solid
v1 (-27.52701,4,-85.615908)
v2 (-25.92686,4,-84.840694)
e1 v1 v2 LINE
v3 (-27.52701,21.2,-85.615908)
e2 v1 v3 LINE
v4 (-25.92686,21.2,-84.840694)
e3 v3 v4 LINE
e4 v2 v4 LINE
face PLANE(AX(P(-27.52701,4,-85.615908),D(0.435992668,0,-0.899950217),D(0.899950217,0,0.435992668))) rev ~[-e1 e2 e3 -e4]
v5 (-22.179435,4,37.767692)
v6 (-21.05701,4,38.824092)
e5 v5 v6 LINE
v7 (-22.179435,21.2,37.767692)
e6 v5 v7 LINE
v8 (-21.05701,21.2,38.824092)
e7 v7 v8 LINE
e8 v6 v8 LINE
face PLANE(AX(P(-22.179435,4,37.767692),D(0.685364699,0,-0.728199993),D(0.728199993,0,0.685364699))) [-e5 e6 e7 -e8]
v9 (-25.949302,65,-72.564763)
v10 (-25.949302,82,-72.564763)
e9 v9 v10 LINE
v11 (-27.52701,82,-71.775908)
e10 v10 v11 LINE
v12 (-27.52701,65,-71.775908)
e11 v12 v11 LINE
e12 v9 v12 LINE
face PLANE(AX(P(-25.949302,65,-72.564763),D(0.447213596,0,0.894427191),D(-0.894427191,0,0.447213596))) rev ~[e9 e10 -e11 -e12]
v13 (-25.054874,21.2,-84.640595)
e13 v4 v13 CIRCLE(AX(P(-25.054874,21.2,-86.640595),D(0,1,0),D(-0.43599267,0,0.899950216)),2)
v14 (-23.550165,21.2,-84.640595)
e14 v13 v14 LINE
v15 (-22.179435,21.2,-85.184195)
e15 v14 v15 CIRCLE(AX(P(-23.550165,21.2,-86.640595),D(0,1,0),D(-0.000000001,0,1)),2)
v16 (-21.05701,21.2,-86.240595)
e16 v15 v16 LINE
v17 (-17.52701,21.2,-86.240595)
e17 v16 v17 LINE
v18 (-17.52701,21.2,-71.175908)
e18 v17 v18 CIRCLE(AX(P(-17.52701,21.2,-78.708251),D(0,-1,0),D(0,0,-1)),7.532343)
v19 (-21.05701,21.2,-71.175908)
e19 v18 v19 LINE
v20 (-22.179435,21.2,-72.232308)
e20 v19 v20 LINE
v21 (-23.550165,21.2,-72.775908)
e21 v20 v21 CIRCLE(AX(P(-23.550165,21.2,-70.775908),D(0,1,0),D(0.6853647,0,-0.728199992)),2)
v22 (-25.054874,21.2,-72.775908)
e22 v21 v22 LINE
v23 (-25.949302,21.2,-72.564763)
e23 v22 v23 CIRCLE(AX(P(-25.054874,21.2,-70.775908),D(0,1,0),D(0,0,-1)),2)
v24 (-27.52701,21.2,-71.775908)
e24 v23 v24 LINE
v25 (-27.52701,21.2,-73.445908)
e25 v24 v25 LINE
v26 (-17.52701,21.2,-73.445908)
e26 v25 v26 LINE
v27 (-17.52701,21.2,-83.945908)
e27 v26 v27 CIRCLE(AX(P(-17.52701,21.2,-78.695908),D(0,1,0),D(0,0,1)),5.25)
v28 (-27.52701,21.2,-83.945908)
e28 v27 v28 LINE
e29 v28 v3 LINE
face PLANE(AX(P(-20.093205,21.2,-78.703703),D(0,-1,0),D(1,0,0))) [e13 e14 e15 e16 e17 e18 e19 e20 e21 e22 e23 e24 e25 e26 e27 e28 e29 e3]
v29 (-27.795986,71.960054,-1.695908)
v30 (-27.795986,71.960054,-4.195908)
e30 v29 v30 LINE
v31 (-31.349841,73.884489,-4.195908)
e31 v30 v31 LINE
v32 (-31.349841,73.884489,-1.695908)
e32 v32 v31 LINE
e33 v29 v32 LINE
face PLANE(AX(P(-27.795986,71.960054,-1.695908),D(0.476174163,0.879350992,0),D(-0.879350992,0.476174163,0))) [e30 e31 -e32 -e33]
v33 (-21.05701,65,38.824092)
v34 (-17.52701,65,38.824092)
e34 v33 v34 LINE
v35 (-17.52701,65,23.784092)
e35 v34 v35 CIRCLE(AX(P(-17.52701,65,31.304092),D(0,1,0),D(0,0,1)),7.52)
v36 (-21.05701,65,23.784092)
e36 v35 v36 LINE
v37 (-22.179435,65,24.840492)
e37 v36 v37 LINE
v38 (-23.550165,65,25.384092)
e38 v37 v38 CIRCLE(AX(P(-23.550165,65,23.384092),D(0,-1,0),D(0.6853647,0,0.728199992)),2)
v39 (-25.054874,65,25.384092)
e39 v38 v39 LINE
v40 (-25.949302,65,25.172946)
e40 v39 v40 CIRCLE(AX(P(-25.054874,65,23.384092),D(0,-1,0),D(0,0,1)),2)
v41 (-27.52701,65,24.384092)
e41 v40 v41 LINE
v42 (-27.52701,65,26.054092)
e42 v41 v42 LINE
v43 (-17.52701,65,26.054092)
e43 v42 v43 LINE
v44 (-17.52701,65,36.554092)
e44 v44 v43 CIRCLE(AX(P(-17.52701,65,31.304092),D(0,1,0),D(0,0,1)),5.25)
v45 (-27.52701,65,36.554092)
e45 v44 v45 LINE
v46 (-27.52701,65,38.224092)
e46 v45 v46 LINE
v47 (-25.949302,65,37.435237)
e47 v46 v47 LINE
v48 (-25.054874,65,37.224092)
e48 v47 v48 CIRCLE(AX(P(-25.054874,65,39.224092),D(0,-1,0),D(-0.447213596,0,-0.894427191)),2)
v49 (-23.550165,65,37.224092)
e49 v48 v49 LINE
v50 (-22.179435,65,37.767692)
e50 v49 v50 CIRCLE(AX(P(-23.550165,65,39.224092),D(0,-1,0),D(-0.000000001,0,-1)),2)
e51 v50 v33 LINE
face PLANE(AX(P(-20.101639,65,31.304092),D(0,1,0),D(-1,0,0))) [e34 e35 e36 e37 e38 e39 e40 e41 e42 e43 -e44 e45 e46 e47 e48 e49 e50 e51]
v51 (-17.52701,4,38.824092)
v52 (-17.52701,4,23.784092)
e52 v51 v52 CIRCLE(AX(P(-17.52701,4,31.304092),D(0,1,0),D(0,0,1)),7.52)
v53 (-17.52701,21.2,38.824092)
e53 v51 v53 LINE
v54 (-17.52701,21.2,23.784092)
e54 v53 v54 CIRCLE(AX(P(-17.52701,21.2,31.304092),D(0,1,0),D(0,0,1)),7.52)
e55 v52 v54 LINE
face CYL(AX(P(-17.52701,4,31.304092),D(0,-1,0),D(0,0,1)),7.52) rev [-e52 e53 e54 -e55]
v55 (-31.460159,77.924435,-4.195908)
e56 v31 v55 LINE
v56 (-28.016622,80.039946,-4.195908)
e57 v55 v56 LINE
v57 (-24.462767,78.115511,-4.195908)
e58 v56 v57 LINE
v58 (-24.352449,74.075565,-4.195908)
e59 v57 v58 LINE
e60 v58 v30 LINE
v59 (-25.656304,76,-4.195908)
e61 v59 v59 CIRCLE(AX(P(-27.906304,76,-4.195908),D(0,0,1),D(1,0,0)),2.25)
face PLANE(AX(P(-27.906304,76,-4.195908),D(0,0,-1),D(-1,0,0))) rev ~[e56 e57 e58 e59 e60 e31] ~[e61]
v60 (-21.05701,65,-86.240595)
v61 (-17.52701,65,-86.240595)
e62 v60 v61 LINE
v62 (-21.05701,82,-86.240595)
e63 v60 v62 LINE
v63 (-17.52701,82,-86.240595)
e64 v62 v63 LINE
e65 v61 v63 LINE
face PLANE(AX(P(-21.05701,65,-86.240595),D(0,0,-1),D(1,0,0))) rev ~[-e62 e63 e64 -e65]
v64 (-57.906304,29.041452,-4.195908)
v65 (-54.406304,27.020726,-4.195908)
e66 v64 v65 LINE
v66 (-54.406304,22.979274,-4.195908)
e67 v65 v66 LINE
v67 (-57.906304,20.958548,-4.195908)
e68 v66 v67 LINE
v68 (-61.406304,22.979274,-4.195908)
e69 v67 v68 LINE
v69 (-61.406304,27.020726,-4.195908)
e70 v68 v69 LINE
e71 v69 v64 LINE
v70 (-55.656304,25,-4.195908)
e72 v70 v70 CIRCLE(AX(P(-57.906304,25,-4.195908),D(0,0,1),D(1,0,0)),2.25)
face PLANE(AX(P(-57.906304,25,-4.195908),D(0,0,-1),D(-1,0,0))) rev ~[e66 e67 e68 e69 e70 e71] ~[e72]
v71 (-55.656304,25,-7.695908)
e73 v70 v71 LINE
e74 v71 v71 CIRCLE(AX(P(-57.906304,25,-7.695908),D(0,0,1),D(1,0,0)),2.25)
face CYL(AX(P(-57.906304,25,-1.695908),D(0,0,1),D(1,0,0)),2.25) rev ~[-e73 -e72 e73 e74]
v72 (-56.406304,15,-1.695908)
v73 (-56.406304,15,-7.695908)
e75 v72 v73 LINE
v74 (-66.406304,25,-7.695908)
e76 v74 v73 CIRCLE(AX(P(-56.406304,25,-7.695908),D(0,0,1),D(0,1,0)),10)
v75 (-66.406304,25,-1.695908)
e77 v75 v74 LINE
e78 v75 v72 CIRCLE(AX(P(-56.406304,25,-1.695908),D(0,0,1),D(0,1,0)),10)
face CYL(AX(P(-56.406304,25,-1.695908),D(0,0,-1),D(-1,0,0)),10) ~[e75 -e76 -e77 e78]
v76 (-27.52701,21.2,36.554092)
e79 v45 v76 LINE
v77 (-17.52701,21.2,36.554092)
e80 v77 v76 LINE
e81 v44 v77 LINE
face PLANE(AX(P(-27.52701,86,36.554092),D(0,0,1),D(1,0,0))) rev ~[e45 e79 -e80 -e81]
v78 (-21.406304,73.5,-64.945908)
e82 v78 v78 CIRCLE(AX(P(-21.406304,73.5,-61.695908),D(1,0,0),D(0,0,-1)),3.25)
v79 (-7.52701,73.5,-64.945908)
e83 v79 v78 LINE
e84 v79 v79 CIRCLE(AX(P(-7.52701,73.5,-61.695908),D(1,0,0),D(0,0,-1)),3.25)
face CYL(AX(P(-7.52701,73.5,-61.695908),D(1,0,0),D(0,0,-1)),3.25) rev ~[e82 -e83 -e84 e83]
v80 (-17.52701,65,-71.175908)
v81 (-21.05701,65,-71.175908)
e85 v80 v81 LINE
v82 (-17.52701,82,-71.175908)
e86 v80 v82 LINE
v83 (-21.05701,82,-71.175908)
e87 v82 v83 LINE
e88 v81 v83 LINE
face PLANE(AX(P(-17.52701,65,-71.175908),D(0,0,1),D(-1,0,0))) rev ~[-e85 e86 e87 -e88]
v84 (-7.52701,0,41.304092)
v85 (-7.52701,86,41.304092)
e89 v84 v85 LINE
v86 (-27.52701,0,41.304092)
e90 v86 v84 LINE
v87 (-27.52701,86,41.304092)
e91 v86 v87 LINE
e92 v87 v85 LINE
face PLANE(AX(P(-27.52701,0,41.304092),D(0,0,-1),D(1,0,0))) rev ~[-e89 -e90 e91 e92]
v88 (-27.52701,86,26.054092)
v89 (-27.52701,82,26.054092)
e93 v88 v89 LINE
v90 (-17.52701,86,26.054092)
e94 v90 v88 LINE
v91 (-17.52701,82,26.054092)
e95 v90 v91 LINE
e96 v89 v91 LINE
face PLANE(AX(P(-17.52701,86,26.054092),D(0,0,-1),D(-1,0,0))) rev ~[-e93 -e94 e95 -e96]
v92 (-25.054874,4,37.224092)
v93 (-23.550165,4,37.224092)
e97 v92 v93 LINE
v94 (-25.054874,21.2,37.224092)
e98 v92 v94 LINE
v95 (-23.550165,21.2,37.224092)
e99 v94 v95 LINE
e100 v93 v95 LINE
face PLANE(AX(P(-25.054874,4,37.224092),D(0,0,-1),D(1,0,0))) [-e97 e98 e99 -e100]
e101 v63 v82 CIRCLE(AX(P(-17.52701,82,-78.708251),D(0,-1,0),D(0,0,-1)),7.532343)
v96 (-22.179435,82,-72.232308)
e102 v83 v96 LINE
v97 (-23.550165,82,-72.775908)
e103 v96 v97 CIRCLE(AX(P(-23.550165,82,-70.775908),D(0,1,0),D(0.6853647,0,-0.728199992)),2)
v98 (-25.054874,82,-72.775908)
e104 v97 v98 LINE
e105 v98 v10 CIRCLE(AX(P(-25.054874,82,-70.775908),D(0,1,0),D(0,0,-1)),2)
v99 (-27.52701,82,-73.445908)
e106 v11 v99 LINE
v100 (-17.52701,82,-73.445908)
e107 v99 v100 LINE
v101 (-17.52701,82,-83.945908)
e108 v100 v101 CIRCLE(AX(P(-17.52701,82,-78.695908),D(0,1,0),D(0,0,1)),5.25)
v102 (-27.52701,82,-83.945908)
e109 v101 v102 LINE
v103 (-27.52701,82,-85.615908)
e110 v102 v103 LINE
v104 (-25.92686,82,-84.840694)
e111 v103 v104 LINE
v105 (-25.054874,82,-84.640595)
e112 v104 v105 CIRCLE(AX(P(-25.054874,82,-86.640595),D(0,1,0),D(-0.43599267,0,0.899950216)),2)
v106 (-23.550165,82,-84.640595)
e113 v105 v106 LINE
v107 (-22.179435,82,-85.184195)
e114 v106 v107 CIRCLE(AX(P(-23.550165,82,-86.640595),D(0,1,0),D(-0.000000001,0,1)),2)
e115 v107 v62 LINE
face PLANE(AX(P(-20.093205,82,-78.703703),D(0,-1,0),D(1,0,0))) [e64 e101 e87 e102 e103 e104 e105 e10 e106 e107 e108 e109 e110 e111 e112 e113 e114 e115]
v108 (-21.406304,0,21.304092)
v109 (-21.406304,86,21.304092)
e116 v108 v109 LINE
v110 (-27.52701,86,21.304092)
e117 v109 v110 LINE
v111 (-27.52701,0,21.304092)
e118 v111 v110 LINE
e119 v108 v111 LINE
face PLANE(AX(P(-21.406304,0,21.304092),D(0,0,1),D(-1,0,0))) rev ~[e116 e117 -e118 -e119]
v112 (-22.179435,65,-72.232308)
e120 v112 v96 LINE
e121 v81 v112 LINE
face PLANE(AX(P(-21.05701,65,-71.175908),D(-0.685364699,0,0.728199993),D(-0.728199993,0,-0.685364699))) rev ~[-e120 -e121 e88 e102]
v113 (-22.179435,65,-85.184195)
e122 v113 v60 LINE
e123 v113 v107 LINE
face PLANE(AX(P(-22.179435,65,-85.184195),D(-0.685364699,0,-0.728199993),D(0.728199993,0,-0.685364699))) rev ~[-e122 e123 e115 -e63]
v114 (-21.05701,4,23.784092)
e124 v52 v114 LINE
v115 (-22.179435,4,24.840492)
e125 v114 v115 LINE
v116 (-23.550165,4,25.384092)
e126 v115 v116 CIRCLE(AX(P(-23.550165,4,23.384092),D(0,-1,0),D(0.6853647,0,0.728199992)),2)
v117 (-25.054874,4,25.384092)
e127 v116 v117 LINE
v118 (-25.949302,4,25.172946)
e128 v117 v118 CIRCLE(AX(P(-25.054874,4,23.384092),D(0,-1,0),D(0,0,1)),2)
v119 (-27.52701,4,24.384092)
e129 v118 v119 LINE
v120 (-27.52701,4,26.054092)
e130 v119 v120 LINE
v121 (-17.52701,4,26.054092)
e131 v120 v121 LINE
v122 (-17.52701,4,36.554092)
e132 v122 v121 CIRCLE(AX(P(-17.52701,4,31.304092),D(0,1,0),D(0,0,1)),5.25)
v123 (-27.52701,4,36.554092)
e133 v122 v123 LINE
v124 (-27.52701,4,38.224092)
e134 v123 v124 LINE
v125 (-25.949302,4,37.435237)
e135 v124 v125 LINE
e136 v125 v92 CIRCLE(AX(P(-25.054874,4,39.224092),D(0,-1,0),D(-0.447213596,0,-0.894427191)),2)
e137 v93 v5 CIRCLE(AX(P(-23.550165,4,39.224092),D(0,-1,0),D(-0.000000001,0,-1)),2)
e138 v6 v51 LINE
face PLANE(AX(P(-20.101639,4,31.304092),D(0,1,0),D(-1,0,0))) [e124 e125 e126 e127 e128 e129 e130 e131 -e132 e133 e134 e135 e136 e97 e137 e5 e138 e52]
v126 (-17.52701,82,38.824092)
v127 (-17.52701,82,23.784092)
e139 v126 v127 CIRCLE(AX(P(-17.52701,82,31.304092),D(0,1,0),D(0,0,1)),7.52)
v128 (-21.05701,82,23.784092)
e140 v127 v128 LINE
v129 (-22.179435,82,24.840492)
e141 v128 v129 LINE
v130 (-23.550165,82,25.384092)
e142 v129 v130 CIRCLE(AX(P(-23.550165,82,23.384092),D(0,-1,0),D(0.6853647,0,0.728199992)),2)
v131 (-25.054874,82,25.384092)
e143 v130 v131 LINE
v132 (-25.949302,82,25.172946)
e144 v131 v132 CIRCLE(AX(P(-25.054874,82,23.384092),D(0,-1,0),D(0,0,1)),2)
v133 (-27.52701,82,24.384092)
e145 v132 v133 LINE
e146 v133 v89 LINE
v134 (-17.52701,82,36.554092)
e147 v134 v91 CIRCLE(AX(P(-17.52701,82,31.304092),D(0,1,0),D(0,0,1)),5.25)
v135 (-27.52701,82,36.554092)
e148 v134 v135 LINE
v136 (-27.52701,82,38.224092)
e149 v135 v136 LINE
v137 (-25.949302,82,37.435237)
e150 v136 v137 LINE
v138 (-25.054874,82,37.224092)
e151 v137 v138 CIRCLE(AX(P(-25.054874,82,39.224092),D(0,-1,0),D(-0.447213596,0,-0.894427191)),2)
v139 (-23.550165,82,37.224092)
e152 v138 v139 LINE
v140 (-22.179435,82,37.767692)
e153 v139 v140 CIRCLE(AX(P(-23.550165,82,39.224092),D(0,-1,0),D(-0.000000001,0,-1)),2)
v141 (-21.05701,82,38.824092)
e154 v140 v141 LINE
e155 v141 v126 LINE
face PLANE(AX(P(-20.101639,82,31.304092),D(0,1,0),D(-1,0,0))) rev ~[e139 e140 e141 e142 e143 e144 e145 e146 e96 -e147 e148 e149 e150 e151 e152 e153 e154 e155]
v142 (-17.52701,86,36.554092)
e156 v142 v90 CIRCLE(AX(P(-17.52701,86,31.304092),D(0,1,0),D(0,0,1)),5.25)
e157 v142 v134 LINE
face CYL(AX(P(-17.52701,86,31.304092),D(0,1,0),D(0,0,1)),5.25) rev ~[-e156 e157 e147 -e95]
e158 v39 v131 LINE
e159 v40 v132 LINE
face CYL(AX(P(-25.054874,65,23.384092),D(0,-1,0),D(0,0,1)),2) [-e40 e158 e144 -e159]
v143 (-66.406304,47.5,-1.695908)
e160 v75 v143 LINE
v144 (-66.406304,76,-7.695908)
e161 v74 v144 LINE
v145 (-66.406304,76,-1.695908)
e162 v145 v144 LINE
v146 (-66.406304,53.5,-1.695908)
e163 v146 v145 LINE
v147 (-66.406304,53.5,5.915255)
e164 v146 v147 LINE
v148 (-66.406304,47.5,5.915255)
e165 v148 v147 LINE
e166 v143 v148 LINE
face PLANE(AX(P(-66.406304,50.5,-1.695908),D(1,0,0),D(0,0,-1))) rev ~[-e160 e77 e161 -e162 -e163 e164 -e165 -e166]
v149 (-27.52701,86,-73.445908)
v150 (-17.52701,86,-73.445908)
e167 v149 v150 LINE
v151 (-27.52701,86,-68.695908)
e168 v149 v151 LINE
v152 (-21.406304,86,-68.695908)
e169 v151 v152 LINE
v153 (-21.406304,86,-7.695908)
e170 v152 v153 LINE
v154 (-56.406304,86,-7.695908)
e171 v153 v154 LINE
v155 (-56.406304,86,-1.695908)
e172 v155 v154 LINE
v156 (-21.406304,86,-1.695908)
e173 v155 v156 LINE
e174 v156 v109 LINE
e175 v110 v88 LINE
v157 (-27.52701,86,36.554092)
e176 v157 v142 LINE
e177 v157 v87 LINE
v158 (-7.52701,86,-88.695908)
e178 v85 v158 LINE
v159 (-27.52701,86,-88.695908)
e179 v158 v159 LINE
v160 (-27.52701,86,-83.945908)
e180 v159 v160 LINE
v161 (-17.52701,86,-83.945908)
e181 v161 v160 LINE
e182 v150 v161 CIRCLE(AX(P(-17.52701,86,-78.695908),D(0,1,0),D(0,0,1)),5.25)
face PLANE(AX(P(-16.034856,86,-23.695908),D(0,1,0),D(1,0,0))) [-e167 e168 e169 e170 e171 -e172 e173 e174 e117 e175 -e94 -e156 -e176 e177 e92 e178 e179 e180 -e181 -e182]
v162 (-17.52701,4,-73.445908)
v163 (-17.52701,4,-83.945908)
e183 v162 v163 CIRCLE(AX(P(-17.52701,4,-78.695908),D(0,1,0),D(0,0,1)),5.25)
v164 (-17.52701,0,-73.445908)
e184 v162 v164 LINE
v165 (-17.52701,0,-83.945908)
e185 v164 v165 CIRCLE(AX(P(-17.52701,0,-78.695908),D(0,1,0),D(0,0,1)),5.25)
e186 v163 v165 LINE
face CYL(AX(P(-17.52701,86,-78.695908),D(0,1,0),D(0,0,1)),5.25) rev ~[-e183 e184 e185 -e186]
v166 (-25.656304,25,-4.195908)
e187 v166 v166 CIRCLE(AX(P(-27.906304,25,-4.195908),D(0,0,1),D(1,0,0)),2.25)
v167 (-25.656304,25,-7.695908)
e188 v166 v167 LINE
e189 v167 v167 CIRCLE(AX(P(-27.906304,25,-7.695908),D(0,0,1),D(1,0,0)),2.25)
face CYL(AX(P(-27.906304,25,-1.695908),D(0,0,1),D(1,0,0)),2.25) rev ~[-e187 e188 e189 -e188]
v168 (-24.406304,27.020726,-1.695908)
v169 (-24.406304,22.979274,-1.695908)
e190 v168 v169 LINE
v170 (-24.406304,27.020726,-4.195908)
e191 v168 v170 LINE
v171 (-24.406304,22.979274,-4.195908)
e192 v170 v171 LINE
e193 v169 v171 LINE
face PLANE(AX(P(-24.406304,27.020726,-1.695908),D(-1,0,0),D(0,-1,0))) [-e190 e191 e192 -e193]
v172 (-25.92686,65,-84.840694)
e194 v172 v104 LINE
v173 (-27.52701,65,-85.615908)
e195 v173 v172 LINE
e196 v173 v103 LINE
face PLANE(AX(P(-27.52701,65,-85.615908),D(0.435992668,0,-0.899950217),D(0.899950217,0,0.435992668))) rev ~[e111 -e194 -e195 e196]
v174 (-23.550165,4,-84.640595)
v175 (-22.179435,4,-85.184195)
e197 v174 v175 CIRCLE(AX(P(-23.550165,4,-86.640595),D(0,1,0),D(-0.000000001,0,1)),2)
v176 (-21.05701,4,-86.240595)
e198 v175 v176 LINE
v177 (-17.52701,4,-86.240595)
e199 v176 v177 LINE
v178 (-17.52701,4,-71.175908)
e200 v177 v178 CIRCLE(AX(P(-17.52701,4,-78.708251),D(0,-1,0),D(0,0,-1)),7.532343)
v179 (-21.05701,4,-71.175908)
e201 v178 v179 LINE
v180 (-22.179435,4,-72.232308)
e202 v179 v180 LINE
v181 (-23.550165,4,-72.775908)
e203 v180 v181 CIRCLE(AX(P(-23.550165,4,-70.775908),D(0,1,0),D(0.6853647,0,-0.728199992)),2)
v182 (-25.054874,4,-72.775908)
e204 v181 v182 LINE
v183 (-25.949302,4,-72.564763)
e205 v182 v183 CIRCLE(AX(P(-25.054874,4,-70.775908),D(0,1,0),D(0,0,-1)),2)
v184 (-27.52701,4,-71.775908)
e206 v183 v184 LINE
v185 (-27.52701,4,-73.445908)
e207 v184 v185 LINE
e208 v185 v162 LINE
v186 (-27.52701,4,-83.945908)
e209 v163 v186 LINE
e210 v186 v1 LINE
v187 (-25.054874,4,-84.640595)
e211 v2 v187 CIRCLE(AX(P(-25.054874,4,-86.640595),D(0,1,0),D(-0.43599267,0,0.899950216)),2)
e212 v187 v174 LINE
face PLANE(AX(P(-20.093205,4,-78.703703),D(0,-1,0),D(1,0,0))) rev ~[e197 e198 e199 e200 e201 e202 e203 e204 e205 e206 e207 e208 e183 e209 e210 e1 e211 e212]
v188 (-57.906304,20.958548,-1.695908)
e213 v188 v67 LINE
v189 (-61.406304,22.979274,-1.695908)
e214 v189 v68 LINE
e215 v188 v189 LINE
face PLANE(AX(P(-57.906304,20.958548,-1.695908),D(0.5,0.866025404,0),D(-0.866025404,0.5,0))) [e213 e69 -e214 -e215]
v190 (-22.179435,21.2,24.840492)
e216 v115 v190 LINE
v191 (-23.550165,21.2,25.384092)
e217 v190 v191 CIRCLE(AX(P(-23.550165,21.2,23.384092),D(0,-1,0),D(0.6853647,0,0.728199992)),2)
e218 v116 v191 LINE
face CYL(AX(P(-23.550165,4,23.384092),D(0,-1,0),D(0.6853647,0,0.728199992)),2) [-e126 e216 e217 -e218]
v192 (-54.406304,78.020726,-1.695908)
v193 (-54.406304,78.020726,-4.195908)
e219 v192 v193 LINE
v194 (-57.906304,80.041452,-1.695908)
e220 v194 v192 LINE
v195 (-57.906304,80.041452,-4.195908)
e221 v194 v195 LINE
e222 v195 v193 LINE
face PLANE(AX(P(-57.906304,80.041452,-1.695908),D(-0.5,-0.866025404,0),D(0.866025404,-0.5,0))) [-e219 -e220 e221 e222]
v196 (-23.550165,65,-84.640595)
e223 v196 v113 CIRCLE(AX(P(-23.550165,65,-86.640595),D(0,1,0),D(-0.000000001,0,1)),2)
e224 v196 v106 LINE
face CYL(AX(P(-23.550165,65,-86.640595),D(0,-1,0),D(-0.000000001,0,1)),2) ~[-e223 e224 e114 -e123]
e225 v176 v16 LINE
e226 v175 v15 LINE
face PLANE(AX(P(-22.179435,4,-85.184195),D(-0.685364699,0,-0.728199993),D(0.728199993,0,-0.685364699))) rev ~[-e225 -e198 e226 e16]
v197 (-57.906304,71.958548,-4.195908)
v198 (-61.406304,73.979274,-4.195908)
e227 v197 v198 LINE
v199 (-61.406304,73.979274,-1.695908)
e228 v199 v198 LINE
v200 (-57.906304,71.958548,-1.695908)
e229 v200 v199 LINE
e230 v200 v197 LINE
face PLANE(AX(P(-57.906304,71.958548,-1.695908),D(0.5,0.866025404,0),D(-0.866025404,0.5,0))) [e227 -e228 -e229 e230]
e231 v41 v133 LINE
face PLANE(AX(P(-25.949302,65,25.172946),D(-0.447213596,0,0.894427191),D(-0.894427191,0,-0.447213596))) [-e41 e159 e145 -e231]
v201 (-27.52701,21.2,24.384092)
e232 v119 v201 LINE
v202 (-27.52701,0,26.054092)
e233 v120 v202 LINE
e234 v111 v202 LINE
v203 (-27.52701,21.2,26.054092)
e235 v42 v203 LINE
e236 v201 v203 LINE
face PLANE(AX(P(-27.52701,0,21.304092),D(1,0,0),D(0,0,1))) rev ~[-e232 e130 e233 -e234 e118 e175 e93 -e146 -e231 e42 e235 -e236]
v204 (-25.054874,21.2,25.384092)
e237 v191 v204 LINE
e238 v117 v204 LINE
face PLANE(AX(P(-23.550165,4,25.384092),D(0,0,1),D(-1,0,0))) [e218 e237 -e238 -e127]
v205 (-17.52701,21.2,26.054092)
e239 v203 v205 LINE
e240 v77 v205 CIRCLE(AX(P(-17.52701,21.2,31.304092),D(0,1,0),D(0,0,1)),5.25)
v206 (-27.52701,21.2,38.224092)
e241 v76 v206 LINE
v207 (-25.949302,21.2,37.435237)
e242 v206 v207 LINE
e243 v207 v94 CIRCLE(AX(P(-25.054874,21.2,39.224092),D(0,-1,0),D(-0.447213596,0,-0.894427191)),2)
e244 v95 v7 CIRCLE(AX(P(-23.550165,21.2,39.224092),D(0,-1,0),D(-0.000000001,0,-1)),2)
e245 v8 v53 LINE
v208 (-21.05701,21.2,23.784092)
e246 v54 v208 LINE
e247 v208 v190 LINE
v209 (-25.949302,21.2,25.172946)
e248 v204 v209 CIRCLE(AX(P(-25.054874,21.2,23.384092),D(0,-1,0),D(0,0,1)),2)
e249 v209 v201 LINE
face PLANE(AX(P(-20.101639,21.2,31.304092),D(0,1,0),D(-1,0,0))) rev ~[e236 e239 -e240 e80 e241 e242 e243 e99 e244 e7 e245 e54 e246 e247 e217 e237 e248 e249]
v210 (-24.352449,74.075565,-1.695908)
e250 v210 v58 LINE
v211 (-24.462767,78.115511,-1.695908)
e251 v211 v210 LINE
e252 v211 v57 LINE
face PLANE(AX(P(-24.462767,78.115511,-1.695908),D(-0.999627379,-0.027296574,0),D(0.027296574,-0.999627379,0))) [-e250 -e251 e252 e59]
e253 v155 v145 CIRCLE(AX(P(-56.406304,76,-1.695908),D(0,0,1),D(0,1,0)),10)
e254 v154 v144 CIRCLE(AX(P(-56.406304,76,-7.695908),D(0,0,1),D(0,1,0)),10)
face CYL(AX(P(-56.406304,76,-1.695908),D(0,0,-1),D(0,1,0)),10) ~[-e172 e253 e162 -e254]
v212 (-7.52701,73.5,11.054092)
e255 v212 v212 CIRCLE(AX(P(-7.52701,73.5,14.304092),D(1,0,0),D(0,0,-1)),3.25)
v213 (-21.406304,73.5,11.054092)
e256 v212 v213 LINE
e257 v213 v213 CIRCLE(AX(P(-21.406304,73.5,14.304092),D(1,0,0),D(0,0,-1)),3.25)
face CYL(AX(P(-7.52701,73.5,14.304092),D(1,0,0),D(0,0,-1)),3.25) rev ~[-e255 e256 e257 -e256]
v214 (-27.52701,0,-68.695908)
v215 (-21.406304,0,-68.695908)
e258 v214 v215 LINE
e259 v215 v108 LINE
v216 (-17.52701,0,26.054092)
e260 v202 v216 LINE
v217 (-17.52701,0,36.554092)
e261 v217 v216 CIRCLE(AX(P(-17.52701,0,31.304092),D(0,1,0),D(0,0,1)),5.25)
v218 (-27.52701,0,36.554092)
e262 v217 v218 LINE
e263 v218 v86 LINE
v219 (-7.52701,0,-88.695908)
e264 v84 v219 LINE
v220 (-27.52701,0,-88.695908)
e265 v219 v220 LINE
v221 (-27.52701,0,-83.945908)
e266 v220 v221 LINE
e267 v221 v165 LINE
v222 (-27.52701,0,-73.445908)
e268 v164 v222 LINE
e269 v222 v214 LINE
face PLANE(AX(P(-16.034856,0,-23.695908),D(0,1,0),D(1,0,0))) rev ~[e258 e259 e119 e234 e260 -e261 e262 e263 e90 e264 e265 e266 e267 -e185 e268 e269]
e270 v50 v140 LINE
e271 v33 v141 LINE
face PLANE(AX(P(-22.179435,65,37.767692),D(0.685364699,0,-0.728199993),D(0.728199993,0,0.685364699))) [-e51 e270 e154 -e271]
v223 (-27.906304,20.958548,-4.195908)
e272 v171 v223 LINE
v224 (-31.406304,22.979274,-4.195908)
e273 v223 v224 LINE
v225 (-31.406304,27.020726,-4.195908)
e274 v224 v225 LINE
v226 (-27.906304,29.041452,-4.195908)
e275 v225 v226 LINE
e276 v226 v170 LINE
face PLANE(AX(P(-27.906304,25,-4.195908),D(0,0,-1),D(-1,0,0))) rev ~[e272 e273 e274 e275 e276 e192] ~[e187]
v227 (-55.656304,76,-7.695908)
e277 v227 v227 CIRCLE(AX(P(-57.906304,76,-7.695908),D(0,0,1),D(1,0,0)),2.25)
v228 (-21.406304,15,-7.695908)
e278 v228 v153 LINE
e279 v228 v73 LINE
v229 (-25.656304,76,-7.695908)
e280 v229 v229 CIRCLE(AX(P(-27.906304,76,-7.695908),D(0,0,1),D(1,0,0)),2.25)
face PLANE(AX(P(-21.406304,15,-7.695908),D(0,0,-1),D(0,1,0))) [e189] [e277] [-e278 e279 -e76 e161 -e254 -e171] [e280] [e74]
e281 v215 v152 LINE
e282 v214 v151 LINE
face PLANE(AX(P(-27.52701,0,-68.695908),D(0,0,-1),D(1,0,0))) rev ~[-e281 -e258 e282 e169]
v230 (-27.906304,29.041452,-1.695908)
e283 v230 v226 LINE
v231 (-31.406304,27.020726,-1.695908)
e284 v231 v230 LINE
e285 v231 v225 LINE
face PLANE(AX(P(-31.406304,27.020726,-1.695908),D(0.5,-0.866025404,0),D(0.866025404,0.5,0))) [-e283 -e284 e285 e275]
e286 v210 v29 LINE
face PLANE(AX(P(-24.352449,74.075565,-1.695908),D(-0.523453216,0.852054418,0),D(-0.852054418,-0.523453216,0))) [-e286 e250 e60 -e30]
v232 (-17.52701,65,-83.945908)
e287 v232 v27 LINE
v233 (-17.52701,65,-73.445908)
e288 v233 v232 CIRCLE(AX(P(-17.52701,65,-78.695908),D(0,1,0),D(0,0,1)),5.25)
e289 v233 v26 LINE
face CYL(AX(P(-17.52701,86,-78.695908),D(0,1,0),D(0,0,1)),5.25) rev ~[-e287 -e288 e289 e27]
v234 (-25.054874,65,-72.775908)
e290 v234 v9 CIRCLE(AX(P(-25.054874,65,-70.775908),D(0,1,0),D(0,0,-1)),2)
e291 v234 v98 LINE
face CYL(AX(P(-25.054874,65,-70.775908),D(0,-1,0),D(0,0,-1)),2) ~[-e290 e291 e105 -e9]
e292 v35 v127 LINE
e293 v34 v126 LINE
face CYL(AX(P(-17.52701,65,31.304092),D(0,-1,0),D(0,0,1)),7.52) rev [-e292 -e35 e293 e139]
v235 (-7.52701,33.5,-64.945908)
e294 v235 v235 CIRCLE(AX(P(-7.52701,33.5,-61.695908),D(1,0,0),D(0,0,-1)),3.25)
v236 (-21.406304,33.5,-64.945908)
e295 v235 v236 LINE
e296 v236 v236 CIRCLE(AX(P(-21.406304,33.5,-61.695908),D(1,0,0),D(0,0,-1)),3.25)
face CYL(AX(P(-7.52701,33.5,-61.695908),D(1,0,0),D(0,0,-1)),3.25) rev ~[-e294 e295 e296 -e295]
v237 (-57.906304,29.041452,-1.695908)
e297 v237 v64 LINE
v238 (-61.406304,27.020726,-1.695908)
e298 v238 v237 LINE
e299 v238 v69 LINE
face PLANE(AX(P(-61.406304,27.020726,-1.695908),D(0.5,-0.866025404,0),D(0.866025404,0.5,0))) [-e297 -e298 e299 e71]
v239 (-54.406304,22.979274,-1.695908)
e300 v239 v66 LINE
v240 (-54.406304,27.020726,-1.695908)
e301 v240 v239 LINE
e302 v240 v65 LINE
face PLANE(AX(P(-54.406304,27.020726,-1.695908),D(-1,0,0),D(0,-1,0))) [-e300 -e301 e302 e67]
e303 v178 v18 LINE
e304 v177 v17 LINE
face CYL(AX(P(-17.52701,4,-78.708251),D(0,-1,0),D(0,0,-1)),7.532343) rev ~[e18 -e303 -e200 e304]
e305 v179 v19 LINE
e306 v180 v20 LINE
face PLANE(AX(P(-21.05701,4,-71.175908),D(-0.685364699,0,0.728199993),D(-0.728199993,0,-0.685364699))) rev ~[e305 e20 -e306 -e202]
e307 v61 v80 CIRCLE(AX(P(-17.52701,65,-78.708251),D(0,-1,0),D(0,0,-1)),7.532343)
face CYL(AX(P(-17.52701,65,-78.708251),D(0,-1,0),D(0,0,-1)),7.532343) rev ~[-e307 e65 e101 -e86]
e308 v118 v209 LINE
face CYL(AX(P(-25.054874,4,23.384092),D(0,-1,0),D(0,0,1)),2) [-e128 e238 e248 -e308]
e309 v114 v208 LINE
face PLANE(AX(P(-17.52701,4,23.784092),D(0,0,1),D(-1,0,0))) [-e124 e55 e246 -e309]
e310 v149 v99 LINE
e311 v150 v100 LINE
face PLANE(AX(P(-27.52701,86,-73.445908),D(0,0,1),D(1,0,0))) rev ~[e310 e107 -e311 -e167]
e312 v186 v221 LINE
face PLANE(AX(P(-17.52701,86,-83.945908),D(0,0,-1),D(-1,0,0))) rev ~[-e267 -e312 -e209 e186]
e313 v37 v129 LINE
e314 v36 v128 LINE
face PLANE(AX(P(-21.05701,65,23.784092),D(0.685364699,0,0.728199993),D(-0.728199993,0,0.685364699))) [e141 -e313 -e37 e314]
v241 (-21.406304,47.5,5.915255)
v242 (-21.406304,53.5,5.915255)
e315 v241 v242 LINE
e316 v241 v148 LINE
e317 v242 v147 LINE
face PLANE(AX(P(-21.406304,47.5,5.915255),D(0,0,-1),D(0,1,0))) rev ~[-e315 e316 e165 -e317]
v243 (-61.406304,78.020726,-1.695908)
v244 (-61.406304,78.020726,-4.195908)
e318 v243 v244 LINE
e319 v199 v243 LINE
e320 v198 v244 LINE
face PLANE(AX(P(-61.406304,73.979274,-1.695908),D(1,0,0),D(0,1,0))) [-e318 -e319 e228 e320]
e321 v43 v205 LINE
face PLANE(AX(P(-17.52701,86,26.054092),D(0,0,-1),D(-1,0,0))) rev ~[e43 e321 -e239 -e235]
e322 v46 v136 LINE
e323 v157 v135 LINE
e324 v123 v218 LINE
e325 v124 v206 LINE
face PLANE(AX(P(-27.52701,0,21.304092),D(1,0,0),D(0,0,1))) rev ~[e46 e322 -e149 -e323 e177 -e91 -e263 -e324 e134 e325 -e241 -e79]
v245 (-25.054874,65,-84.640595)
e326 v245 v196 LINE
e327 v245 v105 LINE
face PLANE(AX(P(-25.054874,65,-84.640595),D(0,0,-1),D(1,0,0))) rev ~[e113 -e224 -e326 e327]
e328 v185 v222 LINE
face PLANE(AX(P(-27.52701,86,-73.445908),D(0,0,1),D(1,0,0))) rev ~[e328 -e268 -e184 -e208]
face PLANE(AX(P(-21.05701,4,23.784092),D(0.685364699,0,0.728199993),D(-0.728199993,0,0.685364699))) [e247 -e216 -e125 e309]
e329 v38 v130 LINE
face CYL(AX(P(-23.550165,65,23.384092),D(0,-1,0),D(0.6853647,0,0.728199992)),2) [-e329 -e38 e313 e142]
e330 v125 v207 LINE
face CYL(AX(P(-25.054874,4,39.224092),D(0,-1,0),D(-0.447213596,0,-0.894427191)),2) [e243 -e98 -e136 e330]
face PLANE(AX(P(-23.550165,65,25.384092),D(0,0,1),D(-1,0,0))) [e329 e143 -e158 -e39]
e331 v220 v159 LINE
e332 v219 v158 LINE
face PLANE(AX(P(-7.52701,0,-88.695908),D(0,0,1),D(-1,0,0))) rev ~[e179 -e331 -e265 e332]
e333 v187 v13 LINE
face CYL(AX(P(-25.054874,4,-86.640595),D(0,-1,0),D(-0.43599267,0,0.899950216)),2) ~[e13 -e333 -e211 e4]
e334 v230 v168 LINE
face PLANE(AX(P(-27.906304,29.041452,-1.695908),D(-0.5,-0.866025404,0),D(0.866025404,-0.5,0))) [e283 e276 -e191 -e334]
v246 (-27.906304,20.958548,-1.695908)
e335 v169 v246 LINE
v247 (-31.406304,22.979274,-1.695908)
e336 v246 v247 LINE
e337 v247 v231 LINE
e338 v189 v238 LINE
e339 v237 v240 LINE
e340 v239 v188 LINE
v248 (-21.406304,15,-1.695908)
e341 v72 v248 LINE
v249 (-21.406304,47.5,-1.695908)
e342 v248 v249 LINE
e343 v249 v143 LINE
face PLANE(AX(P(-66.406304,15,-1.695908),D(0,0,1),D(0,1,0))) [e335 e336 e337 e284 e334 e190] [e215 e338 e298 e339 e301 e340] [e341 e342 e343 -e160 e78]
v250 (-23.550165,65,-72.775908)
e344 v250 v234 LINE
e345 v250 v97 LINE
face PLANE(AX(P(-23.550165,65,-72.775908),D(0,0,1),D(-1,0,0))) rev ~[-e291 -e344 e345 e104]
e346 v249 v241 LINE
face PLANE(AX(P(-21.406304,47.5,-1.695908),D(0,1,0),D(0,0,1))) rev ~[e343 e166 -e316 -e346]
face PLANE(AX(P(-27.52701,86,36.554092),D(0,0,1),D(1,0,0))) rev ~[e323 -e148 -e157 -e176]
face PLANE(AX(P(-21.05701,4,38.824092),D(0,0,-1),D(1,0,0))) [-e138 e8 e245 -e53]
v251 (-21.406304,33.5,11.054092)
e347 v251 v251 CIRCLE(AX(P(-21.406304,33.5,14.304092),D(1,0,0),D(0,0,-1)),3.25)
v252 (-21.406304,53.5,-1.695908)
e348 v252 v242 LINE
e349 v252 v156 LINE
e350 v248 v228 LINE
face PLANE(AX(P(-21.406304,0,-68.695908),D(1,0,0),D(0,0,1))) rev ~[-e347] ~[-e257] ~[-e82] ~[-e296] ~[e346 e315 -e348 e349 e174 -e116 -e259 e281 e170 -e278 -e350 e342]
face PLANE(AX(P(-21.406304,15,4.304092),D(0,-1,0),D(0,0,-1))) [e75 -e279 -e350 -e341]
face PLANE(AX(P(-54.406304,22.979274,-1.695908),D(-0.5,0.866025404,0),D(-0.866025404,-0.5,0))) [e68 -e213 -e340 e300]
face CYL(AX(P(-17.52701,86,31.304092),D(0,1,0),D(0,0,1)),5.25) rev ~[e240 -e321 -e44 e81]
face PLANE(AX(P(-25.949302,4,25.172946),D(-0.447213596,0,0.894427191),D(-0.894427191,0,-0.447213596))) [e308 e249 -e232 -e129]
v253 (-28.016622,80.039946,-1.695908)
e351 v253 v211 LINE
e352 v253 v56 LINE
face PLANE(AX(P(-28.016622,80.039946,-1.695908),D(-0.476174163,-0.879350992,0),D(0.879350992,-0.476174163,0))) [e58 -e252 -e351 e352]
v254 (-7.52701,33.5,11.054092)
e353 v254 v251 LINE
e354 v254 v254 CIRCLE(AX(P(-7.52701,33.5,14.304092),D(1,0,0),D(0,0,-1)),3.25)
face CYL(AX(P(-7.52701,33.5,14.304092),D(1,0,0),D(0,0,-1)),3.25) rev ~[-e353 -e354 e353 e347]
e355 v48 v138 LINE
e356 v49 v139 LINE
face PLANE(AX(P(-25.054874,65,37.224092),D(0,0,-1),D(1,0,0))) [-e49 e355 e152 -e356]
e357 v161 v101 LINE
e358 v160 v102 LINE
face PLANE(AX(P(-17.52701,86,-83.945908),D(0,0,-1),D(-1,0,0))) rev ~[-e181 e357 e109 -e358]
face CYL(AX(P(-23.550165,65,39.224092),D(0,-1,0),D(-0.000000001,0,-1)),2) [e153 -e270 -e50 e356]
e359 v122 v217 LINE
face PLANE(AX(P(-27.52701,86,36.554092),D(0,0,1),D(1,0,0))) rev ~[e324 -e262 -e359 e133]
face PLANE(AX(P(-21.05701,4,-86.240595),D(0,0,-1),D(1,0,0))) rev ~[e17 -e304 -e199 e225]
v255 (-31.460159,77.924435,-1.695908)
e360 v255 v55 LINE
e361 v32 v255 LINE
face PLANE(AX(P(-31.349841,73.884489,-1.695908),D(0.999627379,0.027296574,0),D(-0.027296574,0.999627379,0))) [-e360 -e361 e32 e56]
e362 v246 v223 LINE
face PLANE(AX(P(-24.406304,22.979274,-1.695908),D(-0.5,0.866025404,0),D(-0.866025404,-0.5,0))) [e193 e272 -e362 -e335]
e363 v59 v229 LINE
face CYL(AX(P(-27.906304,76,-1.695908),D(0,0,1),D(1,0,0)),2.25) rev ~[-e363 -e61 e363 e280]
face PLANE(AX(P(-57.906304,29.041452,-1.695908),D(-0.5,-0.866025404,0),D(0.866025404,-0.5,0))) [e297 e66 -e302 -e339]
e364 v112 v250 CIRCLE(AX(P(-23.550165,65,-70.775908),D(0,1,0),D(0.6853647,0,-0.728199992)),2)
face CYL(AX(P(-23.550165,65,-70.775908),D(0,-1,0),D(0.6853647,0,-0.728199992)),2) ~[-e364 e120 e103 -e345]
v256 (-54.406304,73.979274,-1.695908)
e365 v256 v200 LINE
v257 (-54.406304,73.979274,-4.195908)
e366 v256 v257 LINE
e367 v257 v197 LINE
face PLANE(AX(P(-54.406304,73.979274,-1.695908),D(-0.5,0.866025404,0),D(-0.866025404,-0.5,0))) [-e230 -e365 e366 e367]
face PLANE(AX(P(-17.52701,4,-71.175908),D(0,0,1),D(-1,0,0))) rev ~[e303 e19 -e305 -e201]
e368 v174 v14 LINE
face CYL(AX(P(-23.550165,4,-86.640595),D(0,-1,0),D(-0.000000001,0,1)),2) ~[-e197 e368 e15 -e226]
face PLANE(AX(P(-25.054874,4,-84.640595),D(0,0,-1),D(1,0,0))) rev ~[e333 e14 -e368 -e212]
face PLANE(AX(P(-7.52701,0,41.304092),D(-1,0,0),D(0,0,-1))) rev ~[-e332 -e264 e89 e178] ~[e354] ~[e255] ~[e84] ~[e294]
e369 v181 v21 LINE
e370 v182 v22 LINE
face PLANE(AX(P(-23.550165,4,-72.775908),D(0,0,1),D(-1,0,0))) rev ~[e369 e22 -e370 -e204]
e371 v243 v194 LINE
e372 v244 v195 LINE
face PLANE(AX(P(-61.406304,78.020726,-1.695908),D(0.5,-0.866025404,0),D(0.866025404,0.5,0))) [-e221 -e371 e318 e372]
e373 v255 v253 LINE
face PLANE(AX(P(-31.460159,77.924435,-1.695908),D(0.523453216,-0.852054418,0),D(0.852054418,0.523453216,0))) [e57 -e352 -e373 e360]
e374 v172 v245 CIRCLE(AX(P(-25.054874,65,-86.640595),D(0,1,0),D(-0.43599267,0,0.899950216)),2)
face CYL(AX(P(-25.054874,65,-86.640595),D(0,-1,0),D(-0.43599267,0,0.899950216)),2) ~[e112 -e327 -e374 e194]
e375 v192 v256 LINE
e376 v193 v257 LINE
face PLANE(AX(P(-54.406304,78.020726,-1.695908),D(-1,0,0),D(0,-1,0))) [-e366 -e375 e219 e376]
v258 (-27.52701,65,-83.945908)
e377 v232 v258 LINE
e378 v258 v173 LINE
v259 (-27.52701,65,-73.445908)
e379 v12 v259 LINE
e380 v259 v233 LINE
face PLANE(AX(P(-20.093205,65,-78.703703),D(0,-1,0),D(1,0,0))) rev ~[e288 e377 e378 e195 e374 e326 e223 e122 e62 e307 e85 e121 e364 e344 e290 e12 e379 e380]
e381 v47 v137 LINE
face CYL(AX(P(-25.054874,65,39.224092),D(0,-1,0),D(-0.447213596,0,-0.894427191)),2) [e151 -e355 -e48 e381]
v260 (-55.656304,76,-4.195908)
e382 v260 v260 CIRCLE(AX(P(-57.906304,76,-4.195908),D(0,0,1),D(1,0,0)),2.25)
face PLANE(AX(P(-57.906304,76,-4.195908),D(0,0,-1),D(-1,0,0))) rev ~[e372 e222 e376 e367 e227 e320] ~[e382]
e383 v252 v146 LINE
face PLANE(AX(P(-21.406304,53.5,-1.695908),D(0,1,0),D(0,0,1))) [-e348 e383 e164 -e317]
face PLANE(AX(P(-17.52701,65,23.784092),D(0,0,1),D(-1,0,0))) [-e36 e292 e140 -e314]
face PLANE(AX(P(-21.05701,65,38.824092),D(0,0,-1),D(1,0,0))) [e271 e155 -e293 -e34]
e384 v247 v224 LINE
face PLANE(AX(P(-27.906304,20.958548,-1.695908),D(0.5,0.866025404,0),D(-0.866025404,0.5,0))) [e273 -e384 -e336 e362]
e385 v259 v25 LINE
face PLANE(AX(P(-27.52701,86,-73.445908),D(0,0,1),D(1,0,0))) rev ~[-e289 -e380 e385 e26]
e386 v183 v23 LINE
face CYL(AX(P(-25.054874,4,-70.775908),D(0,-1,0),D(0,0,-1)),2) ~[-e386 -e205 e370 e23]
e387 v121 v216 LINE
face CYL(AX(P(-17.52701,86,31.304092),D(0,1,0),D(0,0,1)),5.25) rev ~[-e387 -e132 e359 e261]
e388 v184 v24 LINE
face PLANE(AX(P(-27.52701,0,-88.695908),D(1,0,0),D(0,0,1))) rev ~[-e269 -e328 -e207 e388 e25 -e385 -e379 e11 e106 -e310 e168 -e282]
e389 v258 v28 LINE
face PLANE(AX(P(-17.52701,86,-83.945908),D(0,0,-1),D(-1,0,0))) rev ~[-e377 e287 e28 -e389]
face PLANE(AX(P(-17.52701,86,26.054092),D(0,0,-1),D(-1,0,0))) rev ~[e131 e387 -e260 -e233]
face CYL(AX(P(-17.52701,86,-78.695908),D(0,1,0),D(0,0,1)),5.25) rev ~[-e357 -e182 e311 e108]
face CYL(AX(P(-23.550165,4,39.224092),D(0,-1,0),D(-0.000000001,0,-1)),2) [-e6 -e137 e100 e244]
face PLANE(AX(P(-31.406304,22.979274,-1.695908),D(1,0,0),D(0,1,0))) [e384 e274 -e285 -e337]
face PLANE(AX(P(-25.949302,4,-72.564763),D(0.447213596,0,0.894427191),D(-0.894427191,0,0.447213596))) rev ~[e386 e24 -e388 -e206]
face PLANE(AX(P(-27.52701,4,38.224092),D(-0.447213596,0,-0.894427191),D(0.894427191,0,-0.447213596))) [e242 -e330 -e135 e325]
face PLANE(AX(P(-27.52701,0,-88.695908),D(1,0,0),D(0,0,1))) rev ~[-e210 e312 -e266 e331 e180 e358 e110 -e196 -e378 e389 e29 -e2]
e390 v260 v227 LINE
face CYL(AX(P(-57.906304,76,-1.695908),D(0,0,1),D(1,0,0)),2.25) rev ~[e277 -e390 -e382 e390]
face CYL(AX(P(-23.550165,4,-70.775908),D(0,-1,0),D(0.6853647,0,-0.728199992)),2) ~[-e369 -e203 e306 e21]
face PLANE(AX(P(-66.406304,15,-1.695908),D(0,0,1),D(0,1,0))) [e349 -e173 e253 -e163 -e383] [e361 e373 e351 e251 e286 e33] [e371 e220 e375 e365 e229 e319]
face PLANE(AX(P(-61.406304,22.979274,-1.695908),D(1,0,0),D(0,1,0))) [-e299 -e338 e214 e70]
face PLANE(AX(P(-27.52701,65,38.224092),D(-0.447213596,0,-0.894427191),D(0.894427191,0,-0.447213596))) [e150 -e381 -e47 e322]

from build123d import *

# Parameters (mm, degrees)
BOSS_EXTRUDE1_DEPTH = 86
CUT_EXTRUDE1_REACH  = 88
CUT_EXTRUDE2_START  = -4
CUT_EXTRUDE2_DEPTH  = 17.2
CUT_EXTRUDE3_START  = -65
CUT_EXTRUDE3_DEPTH  = 17
SKETCH5_W           = 12
SKETCH5_H           = 71
BOSS_EXTRUDE2_DEPTH = 45
SKETCH6_W           = 6
SKETCH6_H           = 71
CUT_EXTRUDE4_DEPTH  = 45
CUT_EXTRUDE6_REACH  = 89
SKETCH8_R           = 2.25
SKETCH9_R           = 3.25
CUT_EXTRUDE7_DEPTH  = 59.8792938
CUT_EXTRUDE8_START  = -6
CUT_EXTRUDE8_DEPTH  = 2.5
FILLET1_R           = 10
SKETCH11_W          = 7.611163598
SKETCH11_H          = 6
BOSS_EXTRUDE3_DEPTH = 45


with BuildPart() as part:
    # Sketch1 → Boss-Extrude1 (new body)
    with BuildSketch(Plane(origin=(0, 0, 0), x_dir=(1, 0, 0), z_dir=(0, 1, 0))):
        Polygon((-7.52701042, -41.304091879), (-7.52701042, 88.695908121), (-27.52701042, 88.695908121), (-27.52701042, 68.695908121), (-21.40630422, 68.695908121), (-21.40630422, -21.304091879), (-27.52701042, -21.304091879), (-27.52701042, -41.304091879), align=None)
    extrude(amount=BOSS_EXTRUDE1_DEPTH)

    # Sketch2 → Cut-Extrude1 (cut, up to next)
    with BuildSketch(Plane(origin=(0, 86, 0), x_dir=(1, 0, 0), z_dir=(0, 1, 0)), mode=Mode.PRIVATE) as cut_extrude1_sk1:
        with BuildLine():
            Line((-17.52701042, 83.945908121), (-27.52701042, 83.945908121))
            Line((-27.52701042, 83.945908121), (-27.52701042, 73.445908121))
            Line((-27.52701042, 73.445908121), (-17.52701042, 73.445908121))
            ThreePointArc((-17.52701042, 73.445908121), (-12.27701042, 78.695908121), (-17.52701042, 83.945908121))
        make_face()
    cut_extrude1_tool1 = extrude(cut_extrude1_sk1.sketch, amount=-CUT_EXTRUDE1_REACH, mode=Mode.PRIVATE) & part.part
    add(cut_extrude1_tool1.solids().sort_by_distance((-20.41673, 86, -78.695908))[0], mode=Mode.SUBTRACT)
    # Sketch2 → Cut-Extrude1 (cut, up to next)
    with BuildSketch(Plane(origin=(0, 86, 0), x_dir=(1, 0, 0), z_dir=(0, 1, 0)), mode=Mode.PRIVATE) as cut_extrude1_sk2:
        with BuildLine():
            Line((-17.52701042, -26.054091879), (-27.52701042, -26.054091879))
            Line((-27.52701042, -26.054091879), (-27.52701042, -36.554091879))
            Line((-27.52701042, -36.554091879), (-17.52701042, -36.554091879))
            ThreePointArc((-17.52701042, -36.554091879), (-12.27701042, -31.304091879), (-17.52701042, -26.054091879))
        make_face()
    cut_extrude1_tool2 = extrude(cut_extrude1_sk2.sketch, amount=-CUT_EXTRUDE1_REACH, mode=Mode.PRIVATE) & part.part
    add(cut_extrude1_tool2.solids().sort_by_distance((-20.41673, 86, 31.304092))[0], mode=Mode.SUBTRACT)

    # Sketch4 → Cut-Extrude2 (cut)
    with BuildSketch(Plane.XZ.offset(CUT_EXTRUDE2_START)):
        with BuildLine():
            Line((-27.52701042, 24.384091879), (-27.52701042, 38.224091879))
            Line((-27.52701042, 38.224091879), (-25.949301656, 37.435237497))
            ThreePointArc((-25.949301656, 37.435237497), (-25.514380306, 37.2775939), (-25.054874465, 37.224091879))
            Line((-25.054874465, 37.224091879), (-23.550164803, 37.224091879))
            ThreePointArc((-23.550164803, 37.224091879), (-22.812872449, 37.364952297), (-22.179435405, 37.767691894))
            Line((-22.179435405, 37.767691894), (-21.05701042, 38.824091879))
            Line((-21.05701042, 38.824091879), (-17.52701042, 38.824091879))
            ThreePointArc((-17.52701042, 38.824091879), (-10.00701042, 31.304091879), (-17.52701042, 23.784091879))
            Line((-17.52701042, 23.784091879), (-21.05701042, 23.784091879))
            Line((-21.05701042, 23.784091879), (-22.179435405, 24.840491864))
            ThreePointArc((-22.179435405, 24.840491864), (-22.812872449, 25.243231461), (-23.550164803, 25.384091879))
            Line((-23.550164803, 25.384091879), (-25.054874465, 25.384091879))
            ThreePointArc((-25.054874465, 25.384091879), (-25.514380306, 25.330589858), (-25.949301656, 25.172946261))
            Line((-25.949301656, 25.172946261), (-27.52701042, 24.384091879))
        make_face()
        with BuildLine():
            Line((-21.05701042, -86.240594633), (-17.52701042, -86.240594633))
            ThreePointArc((-17.52701042, -86.240594633), (-9.994667164, -78.708251377), (-17.52701042, -71.175908121))
            Line((-17.52701042, -71.175908121), (-21.05701042, -71.175908121))
            Line((-21.05701042, -71.175908121), (-22.179435405, -72.232308106))
            ThreePointArc((-22.179435405, -72.232308106), (-22.812872449, -72.635047703), (-23.550164803, -72.775908121))
            Line((-23.550164803, -72.775908121), (-25.054874465, -72.775908121))
            ThreePointArc((-25.054874465, -72.775908121), (-25.514380306, -72.7224061), (-25.949301656, -72.564762503))
            Line((-25.949301656, -72.564762503), (-27.52701042, -71.775908121))
            Line((-27.52701042, -71.775908121), (-27.52701042, -85.615908121))
            Line((-27.52701042, -85.615908121), (-25.926859801, -84.840694199))
            ThreePointArc((-25.926859801, -84.840694199), (-25.502199364, -84.691261302), (-25.054874465, -84.640594633))
            Line((-25.054874465, -84.640594633), (-23.550164803, -84.640594633))
            ThreePointArc((-23.550164803, -84.640594633), (-22.812872449, -84.781455051), (-22.179435405, -85.184194648))
            Line((-22.179435405, -85.184194648), (-21.05701042, -86.240594633))
        make_face()
    extrude(amount=-CUT_EXTRUDE2_DEPTH, mode=Mode.SUBTRACT)

    # Sketch4<2> → Cut-Extrude3 (cut)
    with BuildSketch(Plane.XZ.offset(CUT_EXTRUDE3_START)):
        with BuildLine():
            Line((-27.52701042, 24.384091879), (-27.52701042, 38.224091879))
            Line((-27.52701042, 38.224091879), (-25.949301656, 37.435237497))
            ThreePointArc((-25.949301656, 37.435237497), (-25.514380306, 37.2775939), (-25.054874465, 37.224091879))
            Line((-25.054874465, 37.224091879), (-23.550164803, 37.224091879))
            ThreePointArc((-23.550164803, 37.224091879), (-22.812872449, 37.364952297), (-22.179435405, 37.767691894))
            Line((-22.179435405, 37.767691894), (-21.05701042, 38.824091879))
            Line((-21.05701042, 38.824091879), (-17.52701042, 38.824091879))
            ThreePointArc((-17.52701042, 38.824091879), (-10.00701042, 31.304091879), (-17.52701042, 23.784091879))
            Line((-17.52701042, 23.784091879), (-21.05701042, 23.784091879))
            Line((-21.05701042, 23.784091879), (-22.179435405, 24.840491864))
            ThreePointArc((-22.179435405, 24.840491864), (-22.812872449, 25.243231461), (-23.550164803, 25.384091879))
            Line((-23.550164803, 25.384091879), (-25.054874465, 25.384091879))
            ThreePointArc((-25.054874465, 25.384091879), (-25.514380306, 25.330589858), (-25.949301656, 25.172946261))
            Line((-25.949301656, 25.172946261), (-27.52701042, 24.384091879))
        make_face()
        with BuildLine():
            Line((-21.05701042, -86.240594633), (-17.52701042, -86.240594633))
            ThreePointArc((-17.52701042, -86.240594633), (-9.994667164, -78.708251377), (-17.52701042, -71.175908121))
            Line((-17.52701042, -71.175908121), (-21.05701042, -71.175908121))
            Line((-21.05701042, -71.175908121), (-22.179435405, -72.232308106))
            ThreePointArc((-22.179435405, -72.232308106), (-22.812872449, -72.635047703), (-23.550164803, -72.775908121))
            Line((-23.550164803, -72.775908121), (-25.054874465, -72.775908121))
            ThreePointArc((-25.054874465, -72.775908121), (-25.514380306, -72.7224061), (-25.949301656, -72.564762503))
            Line((-25.949301656, -72.564762503), (-27.52701042, -71.775908121))
            Line((-27.52701042, -71.775908121), (-27.52701042, -85.615908121))
            Line((-27.52701042, -85.615908121), (-25.926859801, -84.840694199))
            ThreePointArc((-25.926859801, -84.840694199), (-25.502199364, -84.691261302), (-25.054874465, -84.640594633))
            Line((-25.054874465, -84.640594633), (-23.550164803, -84.640594633))
            ThreePointArc((-23.550164803, -84.640594633), (-22.812872449, -84.781455051), (-22.179435405, -85.184194648))
            Line((-22.179435405, -85.184194648), (-21.05701042, -86.240594633))
        make_face()
    extrude(amount=-CUT_EXTRUDE3_DEPTH, mode=Mode.SUBTRACT)

    # Sketch5 → Boss-Extrude2 (add)
    with BuildSketch(Plane(origin=(-21.40630422, 0, 0), x_dir=(0, 0, -1), z_dir=(1, 0, 0))):
        with Locations((1.695908121, 50.5)):
            Rectangle(SKETCH5_W, SKETCH5_H)
    extrude(amount=-BOSS_EXTRUDE2_DEPTH)

    # Sketch6 → Cut-Extrude4 (cut)
    with BuildSketch(Plane.ZY.offset(66.40630422)):
        with Locations((1.304091879, 50.5)):
            Rectangle(SKETCH6_W, SKETCH6_H)
    extrude(amount=-CUT_EXTRUDE4_DEPTH, mode=Mode.SUBTRACT)

    # Sketch8 → Cut-Extrude6 (cut, up to next)
    with BuildSketch(Plane.XY.offset(-1.695908121), mode=Mode.PRIVATE) as cut_extrude6_sk1:
        with Locations((-57.90630422, 25)):
            Circle(SKETCH8_R)
    cut_extrude6_tool1 = extrude(cut_extrude6_sk1.sketch, amount=-CUT_EXTRUDE6_REACH, mode=Mode.PRIVATE) & part.part
    add(cut_extrude6_tool1.solids().sort_by_distance((-57.906304, 25, -1.695908))[0], mode=Mode.SUBTRACT)
    # Sketch8 → Cut-Extrude6 (cut, up to next)
    with BuildSketch(Plane.XY.offset(-1.695908121), mode=Mode.PRIVATE) as cut_extrude6_sk2:
        with Locations((-57.90630422, 76)):
            Circle(SKETCH8_R)
    cut_extrude6_tool2 = extrude(cut_extrude6_sk2.sketch, amount=-CUT_EXTRUDE6_REACH, mode=Mode.PRIVATE) & part.part
    add(cut_extrude6_tool2.solids().sort_by_distance((-57.906304, 76, -1.695908))[0], mode=Mode.SUBTRACT)
    # Sketch8 → Cut-Extrude6 (cut, up to next)
    with BuildSketch(Plane.XY.offset(-1.695908121), mode=Mode.PRIVATE) as cut_extrude6_sk3:
        with Locations((-27.90630422, 25)):
            Circle(SKETCH8_R)
    cut_extrude6_tool3 = extrude(cut_extrude6_sk3.sketch, amount=-CUT_EXTRUDE6_REACH, mode=Mode.PRIVATE) & part.part
    add(cut_extrude6_tool3.solids().sort_by_distance((-27.906304, 25, -1.695908))[0], mode=Mode.SUBTRACT)
    # Sketch8 → Cut-Extrude6 (cut, up to next)
    with BuildSketch(Plane.XY.offset(-1.695908121), mode=Mode.PRIVATE) as cut_extrude6_sk4:
        with Locations((-27.90630422, 76)):
            Circle(SKETCH8_R)
    cut_extrude6_tool4 = extrude(cut_extrude6_sk4.sketch, amount=-CUT_EXTRUDE6_REACH, mode=Mode.PRIVATE) & part.part
    add(cut_extrude6_tool4.solids().sort_by_distance((-27.906304, 76, -1.695908))[0], mode=Mode.SUBTRACT)

    # Sketch9 → Cut-Extrude7 (cut, through all)
    with BuildSketch(Plane(origin=(-7.52701042, 0, 0), x_dir=(0, 0, -1), z_dir=(1, 0, 0))):
        with Locations((61.695908121, 33.5)):
            Circle(SKETCH9_R)
        with Locations((-14.304091879, 33.5)):
            Circle(SKETCH9_R)
        with Locations((-14.304091879, 73.5)):
            Circle(SKETCH9_R)
        with Locations((61.695908121, 73.5)):
            Circle(SKETCH9_R)
    extrude(amount=-CUT_EXTRUDE7_DEPTH, mode=Mode.SUBTRACT)

    # Sketch10 → Cut-Extrude8 (cut)
    with BuildSketch(Plane(origin=(0, 0, -7.695908121), x_dir=(-1, 0, 0), z_dir=(0, 0, -1)).offset(CUT_EXTRUDE8_START)):
        Polygon((61.40630422, 27.020725942), (57.90630422, 29.041451884), (54.40630422, 27.020725942), (54.40630422, 22.979274058), (57.90630422, 20.958548116), (61.40630422, 22.979274058), align=None)
        Polygon((61.40630422, 78.020725942), (57.90630422, 80.041451884), (54.40630422, 78.020725942), (54.40630422, 73.979274058), (57.90630422, 71.958548116), (61.40630422, 73.979274058), align=None)
        Polygon((24.40630422, 22.979274058), (27.90630422, 20.958548116), (31.40630422, 22.979274058), (31.40630422, 27.020725942), (27.90630422, 29.041451884), (24.40630422, 27.020725942), align=None)
        Polygon((27.795986428, 71.960054045), (31.349841151, 73.884489013), (31.460158942, 77.924434968), (28.016622011, 80.039945955), (24.462767289, 78.115510987), (24.352449497, 74.075565032), align=None)
    extrude(amount=CUT_EXTRUDE8_DEPTH, mode=Mode.SUBTRACT)

    # Fillet1
    fillet1_edges = [part.edges().sort_by_distance(p)[0] for p in [
        (-66.40630422, 86, -4.695908121),
        (-66.40630422, 15, -4.695908121),
    ]]
    fillet(fillet1_edges, radius=FILLET1_R)

    # Sketch11 → Boss-Extrude3 (add)
    with BuildSketch(Plane.ZY.offset(21.40630422)):
        with Locations((2.109673678, 50.5)):
            Rectangle(SKETCH11_W, SKETCH11_H)
    extrude(amount=BOSS_EXTRUDE3_DEPTH)


solid = part.part
